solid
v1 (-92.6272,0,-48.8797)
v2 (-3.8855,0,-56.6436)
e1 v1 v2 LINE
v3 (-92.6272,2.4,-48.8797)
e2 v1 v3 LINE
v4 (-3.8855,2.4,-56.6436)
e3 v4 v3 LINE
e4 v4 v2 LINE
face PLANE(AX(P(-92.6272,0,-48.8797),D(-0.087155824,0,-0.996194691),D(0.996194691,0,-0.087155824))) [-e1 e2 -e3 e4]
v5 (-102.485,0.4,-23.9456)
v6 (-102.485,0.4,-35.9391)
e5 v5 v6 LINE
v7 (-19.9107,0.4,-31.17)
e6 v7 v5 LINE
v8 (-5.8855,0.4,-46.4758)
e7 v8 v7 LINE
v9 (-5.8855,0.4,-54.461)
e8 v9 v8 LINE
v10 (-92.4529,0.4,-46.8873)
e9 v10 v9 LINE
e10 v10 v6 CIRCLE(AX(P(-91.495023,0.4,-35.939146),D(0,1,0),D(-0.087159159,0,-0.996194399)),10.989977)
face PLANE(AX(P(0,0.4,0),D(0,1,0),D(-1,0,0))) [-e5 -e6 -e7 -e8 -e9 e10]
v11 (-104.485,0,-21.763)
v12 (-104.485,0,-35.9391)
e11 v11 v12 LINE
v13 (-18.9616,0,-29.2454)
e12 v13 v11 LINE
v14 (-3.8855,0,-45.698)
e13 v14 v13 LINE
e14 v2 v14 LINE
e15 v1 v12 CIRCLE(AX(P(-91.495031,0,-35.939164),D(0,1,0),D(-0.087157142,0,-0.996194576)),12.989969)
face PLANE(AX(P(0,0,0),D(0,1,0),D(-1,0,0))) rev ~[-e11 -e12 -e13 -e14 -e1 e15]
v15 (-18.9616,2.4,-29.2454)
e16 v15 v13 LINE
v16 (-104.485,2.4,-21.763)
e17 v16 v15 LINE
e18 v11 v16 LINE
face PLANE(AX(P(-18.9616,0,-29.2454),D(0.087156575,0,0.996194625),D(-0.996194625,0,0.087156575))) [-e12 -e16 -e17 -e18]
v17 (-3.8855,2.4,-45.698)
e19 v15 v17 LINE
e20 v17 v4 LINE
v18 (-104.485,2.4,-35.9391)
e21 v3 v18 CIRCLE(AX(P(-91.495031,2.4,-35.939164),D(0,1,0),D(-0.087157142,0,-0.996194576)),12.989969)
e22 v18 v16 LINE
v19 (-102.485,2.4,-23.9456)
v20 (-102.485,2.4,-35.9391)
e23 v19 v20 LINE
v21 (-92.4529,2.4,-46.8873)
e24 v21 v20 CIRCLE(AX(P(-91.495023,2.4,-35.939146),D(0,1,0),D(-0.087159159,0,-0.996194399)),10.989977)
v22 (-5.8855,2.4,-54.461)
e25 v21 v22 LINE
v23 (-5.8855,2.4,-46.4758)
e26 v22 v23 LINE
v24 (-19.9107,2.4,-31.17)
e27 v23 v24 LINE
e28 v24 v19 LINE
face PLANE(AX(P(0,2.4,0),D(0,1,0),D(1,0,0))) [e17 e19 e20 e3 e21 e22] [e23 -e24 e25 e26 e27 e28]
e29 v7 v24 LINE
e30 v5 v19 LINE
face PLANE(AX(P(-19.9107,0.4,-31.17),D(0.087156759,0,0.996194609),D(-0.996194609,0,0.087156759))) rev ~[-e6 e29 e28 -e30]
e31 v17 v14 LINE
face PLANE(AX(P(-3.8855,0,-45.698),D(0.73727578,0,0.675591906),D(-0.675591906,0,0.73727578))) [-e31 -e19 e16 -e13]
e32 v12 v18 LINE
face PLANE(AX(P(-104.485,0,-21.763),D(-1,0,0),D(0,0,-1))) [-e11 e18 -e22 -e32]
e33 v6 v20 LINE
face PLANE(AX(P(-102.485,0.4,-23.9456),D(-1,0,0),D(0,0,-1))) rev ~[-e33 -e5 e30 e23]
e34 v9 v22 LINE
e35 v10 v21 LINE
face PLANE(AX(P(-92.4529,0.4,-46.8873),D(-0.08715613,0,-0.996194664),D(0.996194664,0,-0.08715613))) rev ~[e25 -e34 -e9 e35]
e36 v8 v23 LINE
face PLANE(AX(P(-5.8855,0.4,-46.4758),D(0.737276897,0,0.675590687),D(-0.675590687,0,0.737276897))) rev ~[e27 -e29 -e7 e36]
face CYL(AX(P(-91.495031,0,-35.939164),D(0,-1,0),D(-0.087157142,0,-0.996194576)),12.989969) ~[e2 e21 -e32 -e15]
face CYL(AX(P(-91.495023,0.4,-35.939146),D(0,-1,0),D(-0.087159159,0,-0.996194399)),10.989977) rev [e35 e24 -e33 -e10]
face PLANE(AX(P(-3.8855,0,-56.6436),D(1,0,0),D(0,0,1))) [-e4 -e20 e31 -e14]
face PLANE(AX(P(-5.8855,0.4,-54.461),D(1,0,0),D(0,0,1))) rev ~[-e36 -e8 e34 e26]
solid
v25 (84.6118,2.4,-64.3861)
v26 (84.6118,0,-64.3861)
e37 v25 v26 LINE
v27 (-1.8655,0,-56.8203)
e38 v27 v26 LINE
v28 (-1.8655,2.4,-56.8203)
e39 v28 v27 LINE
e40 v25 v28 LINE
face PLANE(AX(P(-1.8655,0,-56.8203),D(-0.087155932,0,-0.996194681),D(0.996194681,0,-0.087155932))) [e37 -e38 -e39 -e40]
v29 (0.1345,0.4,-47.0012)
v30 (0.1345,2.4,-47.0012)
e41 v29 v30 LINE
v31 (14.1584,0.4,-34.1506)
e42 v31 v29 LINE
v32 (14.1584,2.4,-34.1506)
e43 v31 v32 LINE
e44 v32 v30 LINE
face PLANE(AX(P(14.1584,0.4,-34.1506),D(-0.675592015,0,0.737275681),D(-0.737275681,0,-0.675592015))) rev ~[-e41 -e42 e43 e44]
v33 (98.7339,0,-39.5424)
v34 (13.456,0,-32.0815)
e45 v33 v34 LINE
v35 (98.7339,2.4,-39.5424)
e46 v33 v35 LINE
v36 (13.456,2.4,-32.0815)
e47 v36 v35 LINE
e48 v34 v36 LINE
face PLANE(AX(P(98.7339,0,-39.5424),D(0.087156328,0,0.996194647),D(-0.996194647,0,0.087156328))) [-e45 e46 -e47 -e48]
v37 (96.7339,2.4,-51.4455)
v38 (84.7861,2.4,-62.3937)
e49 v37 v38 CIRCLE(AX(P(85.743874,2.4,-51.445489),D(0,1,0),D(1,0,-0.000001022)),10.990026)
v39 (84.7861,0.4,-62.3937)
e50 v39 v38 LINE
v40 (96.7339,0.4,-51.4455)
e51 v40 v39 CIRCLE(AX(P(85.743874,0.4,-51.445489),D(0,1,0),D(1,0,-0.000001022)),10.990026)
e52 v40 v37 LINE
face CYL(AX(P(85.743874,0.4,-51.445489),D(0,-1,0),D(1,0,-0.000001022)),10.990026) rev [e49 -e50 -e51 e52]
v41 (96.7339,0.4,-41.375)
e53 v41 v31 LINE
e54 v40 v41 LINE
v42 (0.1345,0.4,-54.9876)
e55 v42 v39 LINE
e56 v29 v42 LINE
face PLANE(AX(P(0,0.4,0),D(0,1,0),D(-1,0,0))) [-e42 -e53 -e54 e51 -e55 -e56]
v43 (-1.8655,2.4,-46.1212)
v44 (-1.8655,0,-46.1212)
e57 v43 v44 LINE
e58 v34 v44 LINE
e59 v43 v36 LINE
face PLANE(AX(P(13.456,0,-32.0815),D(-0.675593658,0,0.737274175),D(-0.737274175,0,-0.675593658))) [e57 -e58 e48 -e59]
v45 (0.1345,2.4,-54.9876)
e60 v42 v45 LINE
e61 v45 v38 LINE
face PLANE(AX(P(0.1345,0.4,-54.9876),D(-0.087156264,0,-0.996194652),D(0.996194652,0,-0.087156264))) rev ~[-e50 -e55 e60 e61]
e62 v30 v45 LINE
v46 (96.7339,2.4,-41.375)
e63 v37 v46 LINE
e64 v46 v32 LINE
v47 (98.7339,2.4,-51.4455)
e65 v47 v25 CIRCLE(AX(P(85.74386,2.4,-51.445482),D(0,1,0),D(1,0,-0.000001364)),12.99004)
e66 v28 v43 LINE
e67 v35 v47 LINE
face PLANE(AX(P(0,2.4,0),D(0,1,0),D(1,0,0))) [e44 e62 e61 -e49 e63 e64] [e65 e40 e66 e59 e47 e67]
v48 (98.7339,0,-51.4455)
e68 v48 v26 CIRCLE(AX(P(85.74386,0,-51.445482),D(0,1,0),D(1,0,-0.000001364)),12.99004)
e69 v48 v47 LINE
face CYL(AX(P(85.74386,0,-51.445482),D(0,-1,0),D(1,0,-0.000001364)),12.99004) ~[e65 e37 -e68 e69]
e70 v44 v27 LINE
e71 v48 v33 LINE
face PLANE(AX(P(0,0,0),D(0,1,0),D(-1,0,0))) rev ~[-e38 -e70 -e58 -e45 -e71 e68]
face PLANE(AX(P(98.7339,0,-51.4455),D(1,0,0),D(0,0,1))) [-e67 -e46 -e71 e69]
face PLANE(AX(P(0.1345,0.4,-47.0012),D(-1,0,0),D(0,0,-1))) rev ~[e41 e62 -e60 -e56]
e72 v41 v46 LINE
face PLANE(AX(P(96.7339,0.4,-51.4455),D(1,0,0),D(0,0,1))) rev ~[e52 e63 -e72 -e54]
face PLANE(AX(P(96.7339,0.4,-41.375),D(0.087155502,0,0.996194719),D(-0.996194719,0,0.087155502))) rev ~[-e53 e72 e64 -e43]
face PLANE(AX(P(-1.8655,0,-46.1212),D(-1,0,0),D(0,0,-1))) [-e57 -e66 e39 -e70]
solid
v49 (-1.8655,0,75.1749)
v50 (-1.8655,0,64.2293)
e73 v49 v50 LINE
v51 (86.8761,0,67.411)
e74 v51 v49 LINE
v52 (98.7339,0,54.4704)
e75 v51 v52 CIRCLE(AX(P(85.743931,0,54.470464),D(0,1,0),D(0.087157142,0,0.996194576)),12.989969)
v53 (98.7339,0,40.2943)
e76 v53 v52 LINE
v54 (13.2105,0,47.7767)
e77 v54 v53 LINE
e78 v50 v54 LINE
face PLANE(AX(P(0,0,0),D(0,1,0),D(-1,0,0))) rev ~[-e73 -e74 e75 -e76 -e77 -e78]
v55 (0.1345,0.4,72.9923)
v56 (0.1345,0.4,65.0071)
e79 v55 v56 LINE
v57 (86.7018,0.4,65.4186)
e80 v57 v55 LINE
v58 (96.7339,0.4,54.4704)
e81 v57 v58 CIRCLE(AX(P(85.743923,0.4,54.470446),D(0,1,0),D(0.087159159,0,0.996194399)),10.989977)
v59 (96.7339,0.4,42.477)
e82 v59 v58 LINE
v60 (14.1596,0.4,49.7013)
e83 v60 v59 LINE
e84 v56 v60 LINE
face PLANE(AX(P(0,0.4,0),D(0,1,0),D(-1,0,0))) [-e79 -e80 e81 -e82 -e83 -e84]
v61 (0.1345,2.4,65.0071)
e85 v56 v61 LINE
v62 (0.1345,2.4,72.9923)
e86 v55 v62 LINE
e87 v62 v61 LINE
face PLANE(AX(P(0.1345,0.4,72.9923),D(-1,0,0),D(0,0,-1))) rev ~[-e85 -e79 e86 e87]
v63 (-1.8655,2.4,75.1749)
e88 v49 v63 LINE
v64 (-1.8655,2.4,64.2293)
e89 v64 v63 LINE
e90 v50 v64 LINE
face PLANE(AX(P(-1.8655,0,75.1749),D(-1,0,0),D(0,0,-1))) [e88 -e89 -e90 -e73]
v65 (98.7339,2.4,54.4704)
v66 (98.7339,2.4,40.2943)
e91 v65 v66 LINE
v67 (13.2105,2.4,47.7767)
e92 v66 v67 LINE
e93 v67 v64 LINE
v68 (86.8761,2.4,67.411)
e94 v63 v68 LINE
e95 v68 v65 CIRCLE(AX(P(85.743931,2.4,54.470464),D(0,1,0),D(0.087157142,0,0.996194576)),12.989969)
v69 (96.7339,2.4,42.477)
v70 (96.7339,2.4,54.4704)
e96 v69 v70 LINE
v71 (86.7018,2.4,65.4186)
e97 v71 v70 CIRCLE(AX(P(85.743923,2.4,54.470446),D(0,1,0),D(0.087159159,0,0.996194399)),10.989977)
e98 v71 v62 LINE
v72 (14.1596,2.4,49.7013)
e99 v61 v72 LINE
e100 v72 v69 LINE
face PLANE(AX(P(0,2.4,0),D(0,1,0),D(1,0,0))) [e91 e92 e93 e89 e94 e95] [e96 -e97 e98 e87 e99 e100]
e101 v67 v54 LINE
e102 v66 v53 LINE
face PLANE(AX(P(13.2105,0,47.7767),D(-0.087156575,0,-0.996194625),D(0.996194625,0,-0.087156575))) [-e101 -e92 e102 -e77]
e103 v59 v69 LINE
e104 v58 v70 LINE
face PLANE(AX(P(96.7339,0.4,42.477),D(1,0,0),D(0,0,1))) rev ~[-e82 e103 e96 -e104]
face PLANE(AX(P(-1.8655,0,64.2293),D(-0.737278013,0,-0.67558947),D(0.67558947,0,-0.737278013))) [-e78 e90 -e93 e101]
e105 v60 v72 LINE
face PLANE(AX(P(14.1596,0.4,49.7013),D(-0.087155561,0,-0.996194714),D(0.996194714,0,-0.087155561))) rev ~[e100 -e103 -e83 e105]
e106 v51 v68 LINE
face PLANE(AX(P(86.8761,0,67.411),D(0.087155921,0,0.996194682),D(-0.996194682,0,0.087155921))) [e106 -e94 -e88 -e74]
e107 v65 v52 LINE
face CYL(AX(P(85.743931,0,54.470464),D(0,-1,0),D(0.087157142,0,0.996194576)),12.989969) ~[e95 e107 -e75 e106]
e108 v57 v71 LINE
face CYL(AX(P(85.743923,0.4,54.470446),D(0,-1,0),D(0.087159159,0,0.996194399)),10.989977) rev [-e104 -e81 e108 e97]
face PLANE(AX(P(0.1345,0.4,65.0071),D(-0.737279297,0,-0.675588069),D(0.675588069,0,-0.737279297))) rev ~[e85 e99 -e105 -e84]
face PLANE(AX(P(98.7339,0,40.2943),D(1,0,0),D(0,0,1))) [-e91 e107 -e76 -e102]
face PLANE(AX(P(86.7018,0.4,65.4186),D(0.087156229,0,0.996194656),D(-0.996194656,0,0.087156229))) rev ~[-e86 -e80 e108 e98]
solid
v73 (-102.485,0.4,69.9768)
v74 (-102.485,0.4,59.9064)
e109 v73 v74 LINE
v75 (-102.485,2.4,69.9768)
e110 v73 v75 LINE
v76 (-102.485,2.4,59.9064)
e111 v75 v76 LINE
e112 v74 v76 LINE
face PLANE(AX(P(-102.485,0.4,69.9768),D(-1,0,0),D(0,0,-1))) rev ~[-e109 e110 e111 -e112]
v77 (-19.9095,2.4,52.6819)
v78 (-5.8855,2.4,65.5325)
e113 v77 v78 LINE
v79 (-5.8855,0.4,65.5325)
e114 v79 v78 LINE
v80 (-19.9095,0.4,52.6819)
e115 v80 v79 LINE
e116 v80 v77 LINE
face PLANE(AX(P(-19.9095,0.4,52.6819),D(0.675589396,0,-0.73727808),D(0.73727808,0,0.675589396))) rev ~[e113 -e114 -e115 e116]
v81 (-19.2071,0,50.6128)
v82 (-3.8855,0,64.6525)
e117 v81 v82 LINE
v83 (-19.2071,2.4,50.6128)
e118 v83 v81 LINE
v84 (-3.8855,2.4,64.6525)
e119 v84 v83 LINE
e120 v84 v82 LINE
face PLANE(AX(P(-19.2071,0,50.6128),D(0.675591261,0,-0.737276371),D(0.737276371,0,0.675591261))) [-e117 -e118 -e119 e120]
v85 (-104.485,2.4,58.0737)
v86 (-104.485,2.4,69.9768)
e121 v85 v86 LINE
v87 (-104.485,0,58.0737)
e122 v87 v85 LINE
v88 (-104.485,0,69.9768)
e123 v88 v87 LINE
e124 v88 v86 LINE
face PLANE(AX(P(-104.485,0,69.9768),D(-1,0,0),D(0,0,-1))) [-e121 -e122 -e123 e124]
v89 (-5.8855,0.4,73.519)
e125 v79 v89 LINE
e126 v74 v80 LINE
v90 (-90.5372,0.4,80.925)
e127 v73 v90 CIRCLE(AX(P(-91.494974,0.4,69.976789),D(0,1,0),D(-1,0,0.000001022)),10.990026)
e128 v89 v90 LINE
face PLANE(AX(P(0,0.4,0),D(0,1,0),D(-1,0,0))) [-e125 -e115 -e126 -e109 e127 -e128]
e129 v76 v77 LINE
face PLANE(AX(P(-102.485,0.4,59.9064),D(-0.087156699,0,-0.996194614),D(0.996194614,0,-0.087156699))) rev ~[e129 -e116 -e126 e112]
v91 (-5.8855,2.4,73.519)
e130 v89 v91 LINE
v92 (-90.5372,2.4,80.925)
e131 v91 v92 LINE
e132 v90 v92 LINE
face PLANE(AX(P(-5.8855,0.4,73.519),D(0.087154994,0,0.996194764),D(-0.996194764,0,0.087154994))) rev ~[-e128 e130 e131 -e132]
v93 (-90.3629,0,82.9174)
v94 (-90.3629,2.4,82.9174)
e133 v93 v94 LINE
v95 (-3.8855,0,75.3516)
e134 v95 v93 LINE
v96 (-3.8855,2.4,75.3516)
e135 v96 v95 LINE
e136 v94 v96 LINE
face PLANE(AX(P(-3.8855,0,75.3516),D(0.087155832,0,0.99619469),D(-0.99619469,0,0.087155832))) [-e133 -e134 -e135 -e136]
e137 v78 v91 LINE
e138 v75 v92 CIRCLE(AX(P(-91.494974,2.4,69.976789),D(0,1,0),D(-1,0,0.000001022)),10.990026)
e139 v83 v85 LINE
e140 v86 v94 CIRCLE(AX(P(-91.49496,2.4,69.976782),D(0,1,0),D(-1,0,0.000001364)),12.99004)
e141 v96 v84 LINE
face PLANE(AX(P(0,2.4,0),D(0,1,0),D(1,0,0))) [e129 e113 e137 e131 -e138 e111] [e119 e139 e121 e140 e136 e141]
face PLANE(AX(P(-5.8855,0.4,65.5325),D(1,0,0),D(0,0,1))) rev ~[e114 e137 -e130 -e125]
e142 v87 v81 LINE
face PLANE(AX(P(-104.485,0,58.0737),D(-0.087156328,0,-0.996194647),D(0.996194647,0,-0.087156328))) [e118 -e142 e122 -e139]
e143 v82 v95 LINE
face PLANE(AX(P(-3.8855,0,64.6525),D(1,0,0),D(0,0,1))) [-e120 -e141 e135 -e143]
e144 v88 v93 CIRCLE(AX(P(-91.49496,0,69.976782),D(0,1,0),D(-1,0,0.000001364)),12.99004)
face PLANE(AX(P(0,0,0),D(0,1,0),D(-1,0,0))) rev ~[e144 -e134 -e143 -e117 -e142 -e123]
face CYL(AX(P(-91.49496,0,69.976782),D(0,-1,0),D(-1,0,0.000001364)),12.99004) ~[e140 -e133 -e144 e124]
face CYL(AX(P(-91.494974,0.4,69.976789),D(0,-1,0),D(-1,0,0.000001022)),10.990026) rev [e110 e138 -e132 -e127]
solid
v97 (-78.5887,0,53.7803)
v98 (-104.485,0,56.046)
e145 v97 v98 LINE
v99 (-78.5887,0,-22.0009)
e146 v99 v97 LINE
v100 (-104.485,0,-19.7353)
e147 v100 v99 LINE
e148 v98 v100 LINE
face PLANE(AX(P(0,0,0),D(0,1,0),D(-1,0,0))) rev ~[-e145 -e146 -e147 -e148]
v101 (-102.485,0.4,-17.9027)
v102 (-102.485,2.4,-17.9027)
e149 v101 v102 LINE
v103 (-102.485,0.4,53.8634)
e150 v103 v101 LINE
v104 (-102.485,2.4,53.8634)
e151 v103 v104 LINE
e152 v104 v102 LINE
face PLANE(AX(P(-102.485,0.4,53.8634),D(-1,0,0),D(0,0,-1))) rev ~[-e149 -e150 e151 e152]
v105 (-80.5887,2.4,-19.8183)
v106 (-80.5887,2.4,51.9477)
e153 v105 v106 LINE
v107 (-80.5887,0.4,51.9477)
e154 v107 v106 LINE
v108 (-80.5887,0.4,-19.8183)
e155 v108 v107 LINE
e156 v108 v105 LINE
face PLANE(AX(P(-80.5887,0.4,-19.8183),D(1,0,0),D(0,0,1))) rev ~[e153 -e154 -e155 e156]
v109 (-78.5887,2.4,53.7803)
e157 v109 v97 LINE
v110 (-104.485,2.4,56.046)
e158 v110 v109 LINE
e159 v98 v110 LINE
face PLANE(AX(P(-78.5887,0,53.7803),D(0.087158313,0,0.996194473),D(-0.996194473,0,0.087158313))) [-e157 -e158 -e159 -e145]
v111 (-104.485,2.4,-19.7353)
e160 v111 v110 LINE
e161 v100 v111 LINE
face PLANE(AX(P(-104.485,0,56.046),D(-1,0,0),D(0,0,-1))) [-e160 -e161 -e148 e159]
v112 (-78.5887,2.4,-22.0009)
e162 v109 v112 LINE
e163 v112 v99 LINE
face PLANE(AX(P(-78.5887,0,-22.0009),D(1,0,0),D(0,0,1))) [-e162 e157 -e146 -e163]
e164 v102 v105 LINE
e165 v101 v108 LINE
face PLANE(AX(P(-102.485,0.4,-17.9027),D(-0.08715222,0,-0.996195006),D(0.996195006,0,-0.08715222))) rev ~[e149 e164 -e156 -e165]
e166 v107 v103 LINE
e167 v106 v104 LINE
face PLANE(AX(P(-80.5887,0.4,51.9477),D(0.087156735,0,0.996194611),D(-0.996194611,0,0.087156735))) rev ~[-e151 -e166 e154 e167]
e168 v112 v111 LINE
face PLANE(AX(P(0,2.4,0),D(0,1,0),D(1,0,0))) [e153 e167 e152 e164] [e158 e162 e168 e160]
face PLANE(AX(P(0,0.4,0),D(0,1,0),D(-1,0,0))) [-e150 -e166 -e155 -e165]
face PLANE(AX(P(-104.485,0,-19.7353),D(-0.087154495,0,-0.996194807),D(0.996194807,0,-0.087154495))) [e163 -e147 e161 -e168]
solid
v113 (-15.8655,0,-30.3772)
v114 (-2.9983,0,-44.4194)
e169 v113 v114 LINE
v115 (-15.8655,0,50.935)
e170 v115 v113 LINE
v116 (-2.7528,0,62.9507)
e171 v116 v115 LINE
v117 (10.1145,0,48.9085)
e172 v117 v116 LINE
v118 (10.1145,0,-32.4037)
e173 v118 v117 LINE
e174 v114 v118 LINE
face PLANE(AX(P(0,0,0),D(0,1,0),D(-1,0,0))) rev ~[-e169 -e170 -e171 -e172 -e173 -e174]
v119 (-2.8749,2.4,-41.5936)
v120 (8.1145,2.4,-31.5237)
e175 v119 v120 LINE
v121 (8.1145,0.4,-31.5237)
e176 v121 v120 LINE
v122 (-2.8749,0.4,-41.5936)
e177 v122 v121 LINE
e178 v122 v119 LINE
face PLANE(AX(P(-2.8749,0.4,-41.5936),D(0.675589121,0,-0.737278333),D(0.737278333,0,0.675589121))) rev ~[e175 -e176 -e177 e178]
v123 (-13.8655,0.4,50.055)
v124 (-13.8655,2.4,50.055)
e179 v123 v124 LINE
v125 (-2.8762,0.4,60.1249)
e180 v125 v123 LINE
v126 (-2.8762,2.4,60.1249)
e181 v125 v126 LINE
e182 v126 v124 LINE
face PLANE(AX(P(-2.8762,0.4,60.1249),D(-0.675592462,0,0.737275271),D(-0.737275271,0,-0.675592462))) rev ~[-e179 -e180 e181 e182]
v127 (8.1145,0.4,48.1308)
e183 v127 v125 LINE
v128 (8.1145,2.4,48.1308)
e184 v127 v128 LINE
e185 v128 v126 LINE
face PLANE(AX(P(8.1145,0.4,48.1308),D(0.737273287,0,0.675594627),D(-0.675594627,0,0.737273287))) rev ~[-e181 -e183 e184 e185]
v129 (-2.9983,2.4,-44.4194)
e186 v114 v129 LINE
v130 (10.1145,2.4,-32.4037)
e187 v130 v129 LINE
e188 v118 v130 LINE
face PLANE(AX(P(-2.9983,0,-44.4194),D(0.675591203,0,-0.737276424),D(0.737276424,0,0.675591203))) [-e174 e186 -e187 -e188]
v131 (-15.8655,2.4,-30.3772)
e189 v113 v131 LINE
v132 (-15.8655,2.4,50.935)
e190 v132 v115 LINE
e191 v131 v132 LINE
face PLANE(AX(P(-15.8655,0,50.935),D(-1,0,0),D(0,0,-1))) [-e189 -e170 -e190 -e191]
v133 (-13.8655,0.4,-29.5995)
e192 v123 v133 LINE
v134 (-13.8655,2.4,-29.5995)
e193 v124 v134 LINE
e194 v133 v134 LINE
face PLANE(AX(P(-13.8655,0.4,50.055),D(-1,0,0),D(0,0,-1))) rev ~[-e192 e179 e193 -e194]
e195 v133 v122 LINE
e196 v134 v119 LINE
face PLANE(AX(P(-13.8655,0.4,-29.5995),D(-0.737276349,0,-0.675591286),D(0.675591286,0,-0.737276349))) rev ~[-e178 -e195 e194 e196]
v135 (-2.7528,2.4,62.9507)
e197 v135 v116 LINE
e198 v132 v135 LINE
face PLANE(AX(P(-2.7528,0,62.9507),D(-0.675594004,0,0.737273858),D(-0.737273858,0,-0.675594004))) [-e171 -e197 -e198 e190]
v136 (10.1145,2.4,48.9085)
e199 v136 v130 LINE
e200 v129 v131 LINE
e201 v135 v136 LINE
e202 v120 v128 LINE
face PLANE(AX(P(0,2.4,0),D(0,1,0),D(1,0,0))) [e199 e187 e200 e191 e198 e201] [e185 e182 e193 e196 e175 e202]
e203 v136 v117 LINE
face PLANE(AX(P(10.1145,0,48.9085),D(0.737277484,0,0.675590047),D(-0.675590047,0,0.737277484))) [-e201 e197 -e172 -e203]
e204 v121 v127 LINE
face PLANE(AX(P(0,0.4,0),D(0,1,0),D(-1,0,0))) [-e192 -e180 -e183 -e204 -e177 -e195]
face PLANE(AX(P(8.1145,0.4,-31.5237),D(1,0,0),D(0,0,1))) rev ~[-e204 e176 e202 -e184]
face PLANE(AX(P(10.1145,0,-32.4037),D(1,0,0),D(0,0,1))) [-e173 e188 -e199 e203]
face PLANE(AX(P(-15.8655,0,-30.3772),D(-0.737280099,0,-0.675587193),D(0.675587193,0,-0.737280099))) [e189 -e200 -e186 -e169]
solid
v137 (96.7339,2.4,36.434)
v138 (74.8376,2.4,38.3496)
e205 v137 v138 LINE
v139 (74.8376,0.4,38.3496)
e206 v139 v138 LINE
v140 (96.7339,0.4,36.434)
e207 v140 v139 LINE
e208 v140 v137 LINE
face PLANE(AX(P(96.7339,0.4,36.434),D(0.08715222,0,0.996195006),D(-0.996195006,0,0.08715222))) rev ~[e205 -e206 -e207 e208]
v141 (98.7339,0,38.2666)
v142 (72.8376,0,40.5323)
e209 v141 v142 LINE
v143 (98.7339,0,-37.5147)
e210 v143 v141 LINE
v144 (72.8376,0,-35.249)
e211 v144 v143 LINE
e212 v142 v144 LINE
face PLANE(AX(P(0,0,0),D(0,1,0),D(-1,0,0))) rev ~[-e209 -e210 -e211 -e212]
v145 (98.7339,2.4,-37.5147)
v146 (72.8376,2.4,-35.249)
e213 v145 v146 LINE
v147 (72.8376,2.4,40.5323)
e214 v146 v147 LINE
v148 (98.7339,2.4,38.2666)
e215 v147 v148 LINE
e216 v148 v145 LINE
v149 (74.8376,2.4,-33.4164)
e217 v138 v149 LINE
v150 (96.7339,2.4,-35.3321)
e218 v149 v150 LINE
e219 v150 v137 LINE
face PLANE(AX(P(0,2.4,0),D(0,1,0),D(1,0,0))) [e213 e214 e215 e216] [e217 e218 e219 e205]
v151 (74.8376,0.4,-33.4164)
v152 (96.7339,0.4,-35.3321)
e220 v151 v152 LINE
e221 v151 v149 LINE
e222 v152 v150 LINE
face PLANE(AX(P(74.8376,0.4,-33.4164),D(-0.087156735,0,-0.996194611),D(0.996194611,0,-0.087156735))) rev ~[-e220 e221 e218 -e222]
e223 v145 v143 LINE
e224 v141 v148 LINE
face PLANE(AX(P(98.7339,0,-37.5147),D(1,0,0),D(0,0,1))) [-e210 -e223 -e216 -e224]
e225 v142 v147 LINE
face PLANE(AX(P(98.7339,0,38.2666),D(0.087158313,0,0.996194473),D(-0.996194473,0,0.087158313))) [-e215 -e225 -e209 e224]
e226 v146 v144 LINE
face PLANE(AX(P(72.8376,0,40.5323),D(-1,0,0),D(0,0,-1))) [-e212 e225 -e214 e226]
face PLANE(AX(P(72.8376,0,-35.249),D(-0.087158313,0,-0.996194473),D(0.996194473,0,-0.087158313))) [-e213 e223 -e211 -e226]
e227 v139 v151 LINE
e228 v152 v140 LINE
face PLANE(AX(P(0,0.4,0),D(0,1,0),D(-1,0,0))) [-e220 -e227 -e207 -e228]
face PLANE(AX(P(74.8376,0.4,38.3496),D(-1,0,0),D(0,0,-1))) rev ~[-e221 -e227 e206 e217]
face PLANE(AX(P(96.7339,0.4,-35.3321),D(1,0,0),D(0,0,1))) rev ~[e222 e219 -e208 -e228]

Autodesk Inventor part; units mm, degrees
ref_plane "YZ Plane" through (0, 0, 0) normal (1, 0, 0) x (0, 1, 0)
ref_plane "XZ Plane" through (0, 0, 0) normal (0, 1, 0) x (-1, 0, 0)
ref_plane "XY Plane" through (0, 0, 0) normal (0, 0, 1) x (1, 0, 0)
sketch "Sketch1" plane through (0, 0, 0) normal (0, 1, 0) x (-1, 0, 0)
  line L0 (-12.1245, -29.9474) -> (-12.1245, 45.854) construction
  line L1 (-12.1245, 45.854) -> (-70.8276, 40.7181) construction
  line L2 (-70.8276, 40.7181) -> (-70.8276, -35.0832) construction
  line L3 (-70.8276, -35.0832) -> (-12.1245, -29.9474) construction
  circle A0 centre (-41.476, 5.3854) radius 9 construction
  circle A1 centre (-41.476, 5.3854) radius 9 construction
  line L4 (-12.1245, 45.854) -> (-12.1245, -29.9474) construction
  line L5 (-12.1245, -29.9474) -> (-70.8276, -35.0832) construction
  line L6 (-70.8276, -35.0832) -> (-70.8276, 40.7181) construction
  line L7 (-70.8276, 40.7181) -> (-12.1245, 45.854) construction
  circle A2 centre (47.2271, 13.1459) radius 9 construction
  line L8 (17.8755, 48.4787) -> (76.5787, 53.6145) construction
  line L9 (76.5787, 53.6145) -> (76.5787, -22.1868) construction
  line L10 (76.5787, -22.1868) -> (17.8755, -27.3227) construction
  line L11 (17.8755, -27.3227) -> (17.8755, 48.4787) construction
  line L12 (-116.1245, 90.6782) -> (121.8755, 90.6782) construction
  arc A3 (125.9548, 86.599) -> (121.8755, 90.6782) centre (121.8755, 86.599) ccw construction
  line L13 (125.9548, 86.599) -> (125.9548, -68.0677) construction
  arc A4 (121.8755, -72.1469) -> (125.9548, -68.0677) centre (121.8755, -68.0677) ccw construction
  line L14 (121.8755, -72.1469) -> (-116.1245, -72.1469) construction
  arc A5 (-120.2037, -68.0677) -> (-116.1245, -72.1469) centre (-116.1245, -68.0677) ccw construction
  line L15 (-120.2037, -68.0677) -> (-120.2037, 86.599) construction
  arc A6 (-116.1245, 90.6782) -> (-120.2037, 86.599) centre (-116.1245, 86.599) ccw construction
  arc A7 (12.5619, -31.0369) -> (13.8755, -27.659) centre (8.8755, -27.659) ccw construction
  line L16 (13.8755, -27.659) -> (13.8755, 47.8594) construction
  arc A8 (13.8755, 47.8594) -> (12.2535, 51.5458) centre (8.8755, 47.8594) ccw construction
  line L17 (12.2535, 51.5458) -> (6.5619, 56.7611) construction
  arc A9 (6.5619, 56.7611) -> (-0.5024, 56.4527) centre (3.184, 53.0747) ccw construction
  line L18 (-0.5024, 56.4527) -> (-6.8108, 49.5682) construction
  arc A10 (-6.8108, 49.5682) -> (-8.1245, 46.1903) centre (-3.1245, 46.1903) ccw construction
  line L19 (-8.1245, 46.1903) -> (-8.1245, -29.3281) construction
  arc A11 (-8.1245, -29.3281) -> (-6.5024, -33.0144) centre (-3.1245, -29.3281) ccw construction
  line L20 (-6.5024, -33.0144) -> (-0.8108, -38.2298) construction
  arc A12 (-0.8108, -38.2298) -> (6.2535, -37.9214) centre (2.5671, -34.5434) ccw construction
  line L21 (6.2535, -37.9214) -> (12.5619, -31.0369) construction
  arc A13 (5.8755, 67.7282) -> (7.4976, 64.0418) centre (10.8755, 67.7282) ccw construction
  line L22 (7.4976, 64.0418) -> (18.2839, 54.1579) construction
  arc A14 (18.2839, 54.1579) -> (22.0977, 52.8633) centre (21.6619, 57.8443) ccw construction
  line L23 (22.0977, 52.8633) -> (97.9308, 59.4979) construction
  arc A15 (97.9308, 59.4979) -> (102.495, 64.4788) centre (97.495, 64.4788) ccw construction
  line L24 (102.495, 64.4788) -> (102.495, 69.9768) construction
  arc A16 (102.495, 69.9768) -> (90.5363, 80.935) centre (91.495, 69.9768) ccw construction
  line L25 (90.5363, 80.935) -> (10.4398, 73.9274) construction
  arc A17 (10.4398, 73.9274) -> (5.8755, 68.9465) centre (10.8755, 68.9465) ccw construction
  line L26 (5.8755, 68.9465) -> (5.8755, 67.7282) construction
  arc A18 (85.143, 52.3562) -> (80.5787, 47.3752) centre (85.5787, 47.3752) ccw construction
  line L27 (80.5787, 47.3752) -> (80.5787, -14.3727) construction
  arc A19 (80.5787, -14.3727) -> (86.0145, -19.3537) centre (85.5787, -14.3727) ccw construction
  line L28 (86.0145, -19.3537) -> (97.9308, -18.3111) construction
  arc A20 (97.9308, -18.3111) -> (102.495, -13.3302) centre (97.495, -13.3302) ccw construction
  line L29 (102.495, -13.3302) -> (102.495, 48.4177) construction
  arc A21 (102.495, 48.4177) -> (97.0592, 53.3987) centre (97.495, 48.4177) ccw construction
  line L30 (97.0592, 53.3987) -> (85.143, 52.3562) construction
  arc A22 (21.843, -30.9909) -> (18.5924, -32.5939) centre (22.2788, -35.9718) ccw construction
  line L31 (18.5924, -32.5939) -> (7.1892, -45.0383) construction
  arc A23 (7.1892, -45.0383) -> (5.8755, -48.4163) centre (10.8755, -48.4163) ccw construction
  line L32 (5.8755, -48.4163) -> (5.8755, -49.0153) construction
  arc A24 (5.8755, -49.0153) -> (11.3113, -53.9963) centre (10.8755, -49.0153) ccw construction
  line L33 (11.3113, -53.9963) -> (92.4537, -46.8973) construction
  arc A25 (92.4537, -46.8973) -> (102.495, -35.9391) centre (91.495, -35.9391) ccw construction
  line L34 (102.495, -35.9391) -> (102.495, -29.3913) construction
  arc A26 (102.495, -29.3913) -> (97.0592, -24.4103) centre (97.495, -29.3913) ccw construction
  line L35 (97.0592, -24.4103) -> (21.843, -30.9909) construction
  arc A27 (-4.6887, -55.3961) -> (-0.1245, -50.4152) centre (-5.1245, -50.4152) ccw construction
  line L36 (-0.1245, -50.4152) -> (-0.1245, -49.1969) construction
  arc A28 (-0.1245, -49.1969) -> (-1.7465, -45.5105) centre (-5.1245, -49.1969) ccw construction
  line L37 (-1.7465, -45.5105) -> (-12.5328, -35.6266) construction
  arc A29 (-12.5328, -35.6266) -> (-16.3466, -34.332) centre (-15.9108, -39.313) ccw construction
  line L38 (-16.3466, -34.332) -> (-92.1797, -40.9666) construction
  arc A30 (-92.1797, -40.9666) -> (-96.7439, -45.9475) centre (-91.7439, -45.9475) ccw construction
  line L39 (-96.7439, -45.9475) -> (-96.7439, -51.4455) construction
  arc A31 (-96.7439, -51.4455) -> (-84.7852, -62.4037) centre (-85.7439, -51.4455) ccw construction
  line L40 (-84.7852, -62.4037) -> (-4.6887, -55.3961) construction
  arc A32 (-79.3919, -33.8249) -> (-74.8276, -28.8439) centre (-79.8276, -28.8439) ccw construction
  line L41 (-74.8276, -28.8439) -> (-74.8276, 32.904) construction
  arc A33 (-74.8276, 32.904) -> (-80.2634, 37.885) centre (-79.8276, 32.904) ccw construction
  line L42 (-80.2634, 37.885) -> (-92.1797, 36.8424) construction
  arc A34 (-92.1797, 36.8424) -> (-96.7439, 31.8615) centre (-91.7439, 31.8615) ccw construction
  line L43 (-96.7439, 31.8615) -> (-96.7439, -29.8864) construction
  arc A35 (-96.7439, -29.8864) -> (-91.3081, -34.8674) centre (-91.7439, -29.8864) ccw construction
  line L44 (-91.3081, -34.8674) -> (-79.3919, -33.8249) construction
  arc A36 (-16.0919, 49.5222) -> (-12.8413, 51.1252) centre (-16.5277, 54.5032) ccw construction
  line L45 (-12.8413, 51.1252) -> (-1.4381, 63.5696) construction
  arc A37 (-1.4381, 63.5696) -> (-0.1245, 66.9476) centre (-5.1245, 66.9476) ccw construction
  line L46 (-0.1245, 66.9476) -> (-0.1245, 67.5466) construction
  arc A38 (-0.1245, 67.5466) -> (-5.5602, 72.5276) centre (-5.1245, 67.5466) ccw construction
  line L47 (-5.5602, 72.5276) -> (-86.7026, 65.4286) construction
  arc A39 (-86.7026, 65.4286) -> (-96.7439, 54.4704) centre (-85.7439, 54.4704) ccw construction
  line L48 (-96.7439, 54.4704) -> (-96.7439, 47.9226) construction
  arc A40 (-96.7439, 47.9226) -> (-91.3081, 42.9416) centre (-91.7439, 47.9226) ccw construction
  line L49 (-91.3081, 42.9416) -> (-16.0919, 49.5222) construction
  line L50 (19.2036, 50.6025) -> (104.495, 58.0645) construction
  line L51 (104.495, 58.0645) -> (104.495, 69.9768) construction
  arc A41 (104.495, 69.9768) -> (90.362, 82.9274) centre (91.495, 69.9768) ccw construction
  line L52 (90.362, 82.9274) -> (3.8755, 75.3608) construction
  line L53 (3.8755, 75.3608) -> (3.8755, 64.6481) construction
  line L54 (3.8755, 64.6481) -> (19.2036, 50.6025) construction
  line L55 (104.495, 56.0569) -> (78.5787, 53.7895) construction
  line L56 (78.5787, 53.7895) -> (78.5787, -22.0119) construction
  line L57 (78.5787, -22.0119) -> (104.495, -19.7445) construction
  line L58 (104.495, -19.7445) -> (104.495, 56.0569) construction
  line L59 (15.8755, -30.3811) -> (15.8755, 50.9394) construction
  line L60 (15.8755, 50.9394) -> (2.7522, 62.9648) construction
  line L61 (2.7522, 62.9648) -> (-10.1245, 48.9124) construction
  line L62 (-10.1245, 48.9124) -> (-10.1245, -32.4081) construction
  line L63 (-10.1245, -32.4081) -> (2.9989, -44.4335) construction
  line L64 (2.9989, -44.4335) -> (15.8755, -30.3811) construction
  line L65 (-13.2058, 47.767) -> (1.8755, 64.2254) construction
  line L66 (1.8755, 64.2254) -> (1.8755, 75.1858) construction
  line L67 (1.8755, 75.1858) -> (-86.8769, 67.421) construction
  arc A42 (-86.8769, 67.421) -> (-98.7439, 54.4704) centre (-85.7439, 54.4704) ccw construction
  line L68 (-98.7439, 54.4704) -> (-98.7439, 40.2834) construction
  line L69 (-98.7439, 40.2834) -> (-13.2058, 47.767) construction
  line L70 (1.8755, -46.1168) -> (-13.4525, -32.0712) construction
  line L71 (-13.4525, -32.0712) -> (-98.7439, -39.5332) construction
  line L72 (-98.7439, -39.5332) -> (-98.7439, -51.4455) construction
  arc A43 (-98.7439, -51.4455) -> (-84.6109, -64.3961) centre (-85.7439, -51.4455) ccw construction
  line L73 (-84.6109, -64.3961) -> (1.8755, -56.8295) construction
  line L74 (1.8755, -56.8295) -> (1.8755, -46.1168) construction
  line L75 (18.9569, -29.2357) -> (3.8755, -45.6941) construction
  line L76 (3.8755, -45.6941) -> (3.8755, -56.6545) construction
  line L77 (3.8755, -56.6545) -> (92.628, -48.8897) construction
  arc A44 (92.628, -48.8897) -> (104.495, -35.9391) centre (91.495, -35.9391) ccw construction
  line L78 (104.495, -35.9391) -> (104.495, -21.7521) construction
  line L79 (104.495, -21.7521) -> (18.9569, -29.2357) construction
  line L80 (-72.8276, -35.2582) -> (-72.8276, 40.5432) construction
  line L81 (-72.8276, 40.5432) -> (-98.7439, 38.2758) construction
  line L82 (-98.7439, 38.2758) -> (-98.7439, -37.5256) construction
  line L83 (-98.7439, -37.5256) -> (-72.8276, -35.2582) construction
  arc A45 (-87.0513, 69.4134) -> (-100.7439, 54.4704) centre (-85.7439, 54.4704) ccw construction
  line L84 (-87.0513, 69.4134) -> (90.1877, 84.9198) construction
  arc A46 (106.495, 69.9768) -> (90.1877, 84.9198) centre (91.495, 69.9768) ccw construction
  line L85 (106.495, 69.9768) -> (106.495, -35.9391) construction
  arc A47 (92.8024, -50.882) -> (106.495, -35.9391) centre (91.495, -35.9391) ccw construction
  line L86 (92.8024, -50.882) -> (-84.4366, -66.3884) construction
  arc A48 (-100.7439, -51.4455) -> (-84.4366, -66.3884) centre (-85.7439, -51.4455) ccw construction
  line L87 (-100.7439, -51.4455) -> (-100.7439, 54.4704) construction
  arc A49 (115.8755, 86.599) -> (121.8755, 80.599) centre (121.8755, 86.599) ccw construction
  line L88 (121.8755, 80.599) -> (121.8755, -62.0677) construction
  arc A50 (121.8755, -62.0677) -> (115.8755, -68.0677) centre (121.8755, -68.0677) ccw construction
  line L89 (115.8755, -68.0677) -> (-110.1245, -68.0677) construction
  arc A51 (-110.1245, -68.0677) -> (-116.1245, -62.0677) centre (-116.1245, -68.0677) ccw construction
  line L90 (-116.1245, -62.0677) -> (-116.1245, 80.599) construction
  arc A52 (-116.1245, 80.599) -> (-110.1245, 86.599) centre (-116.1245, 86.599) ccw construction
  line L91 (-110.1245, 86.599) -> (115.8755, 86.599) construction
  line L92 (104.485, -19.7353) -> (78.5887, -22.0009)
  line L93 (78.5887, -22.0009) -> (78.5887, 53.7803)
  line L94 (78.5887, 53.7803) -> (104.485, 56.046)
  line L95 (104.485, 56.046) -> (104.485, -19.7353)
  arc A53 (92.6272, -48.8797) -> (104.485, -35.9391) centre (91.495, -35.9391) ccw
  line L96 (92.6272, -48.8797) -> (3.8855, -56.6436)
  line L97 (3.8855, -56.6436) -> (3.8855, -45.698)
  line L98 (3.8855, -45.698) -> (18.9616, -29.2454)
  line L99 (18.9616, -29.2454) -> (104.485, -21.763)
  line L100 (104.485, -21.763) -> (104.485, -35.9391)
  line L101 (-13.456, -32.0815) -> (1.8655, -46.1212)
  line L102 (1.8655, -46.1212) -> (1.8655, -56.8203)
  line L103 (1.8655, -56.8203) -> (-84.6118, -64.3861)
  arc A54 (-98.7339, -51.4455) -> (-84.6118, -64.3861) centre (-85.7439, -51.4455) ccw
  line L104 (-98.7339, -51.4455) -> (-98.7339, -39.5424)
  line L105 (-98.7339, -39.5424) -> (-13.456, -32.0815)
  line L106 (-10.1145, -32.4037) -> (-10.1145, 48.9085)
  line L107 (-10.1145, 48.9085) -> (2.7528, 62.9507)
  line L108 (2.7528, 62.9507) -> (15.8655, 50.935)
  line L109 (15.8655, 50.935) -> (15.8655, -30.3772)
  line L110 (15.8655, -30.3772) -> (2.9983, -44.4194)
  line L111 (2.9983, -44.4194) -> (-10.1145, -32.4037)
  line L112 (104.485, 58.0737) -> (19.2071, 50.6128)
  line L113 (19.2071, 50.6128) -> (3.8855, 64.6525)
  line L114 (3.8855, 64.6525) -> (3.8855, 75.3516)
  line L115 (3.8855, 75.3516) -> (90.3629, 82.9174)
  arc A55 (104.485, 69.9768) -> (90.3629, 82.9174) centre (91.495, 69.9768) ccw
  line L116 (104.485, 69.9768) -> (104.485, 58.0737)
  line L117 (1.8655, 64.2293) -> (-13.2105, 47.7767)
  line L118 (-13.2105, 47.7767) -> (-98.7339, 40.2943)
  line L119 (-98.7339, 40.2943) -> (-98.7339, 54.4704)
  arc A56 (-86.8761, 67.411) -> (-98.7339, 54.4704) centre (-85.7439, 54.4704) ccw
  line L120 (-86.8761, 67.411) -> (1.8655, 75.1749)
  line L121 (1.8655, 75.1749) -> (1.8655, 64.2293)
  line L122 (-72.8376, 40.5323) -> (-72.8376, -35.249)
  line L123 (-72.8376, -35.249) -> (-98.7339, -37.5147)
  line L124 (-98.7339, -37.5147) -> (-98.7339, 38.2666)
  line L125 (-98.7339, 38.2666) -> (-72.8376, 40.5323)
  point P0 (2.8755, 9.2657)
  dimension "d31" = 0.01
  dimension "d32" = 0.01
  dimension "d33" = 0.01
  dimension "d34" = 0.01
  dimension "d35" = 0.01
  dimension "d36" = 0.01
  dimension "d37" = 0.01
extrude "Extrusion1" add sketch "Sketch1" along normal blind 0.4
sketch "Sketch9" plane through (0, 0.4, 0) normal (0, 1, 0) x (1, 0, 0)
  line L0 (-90.3629, -82.9174) -> (-3.8855, -75.3516) projected
  line L1 (-3.8855, -75.3516) -> (-3.8855, -64.6525) projected
  line L2 (-3.8855, -64.6525) -> (-19.2071, -50.6128) projected
  line L3 (-19.2071, -50.6128) -> (-104.485, -58.0737) projected
  line L4 (-104.485, -58.0737) -> (-104.485, -69.9768) projected
  arc A0 (-104.485, -69.9768) -> (-90.3629, -82.9174) centre (-91.495, -69.9768) ccw projected
  line L5 (-104.485, -56.046) -> (-78.5887, -53.7803) projected
  line L6 (-78.5887, -53.7803) -> (-78.5887, 22.0009) projected
  line L7 (-78.5887, 22.0009) -> (-104.485, 19.7353) projected
  line L8 (-104.485, 19.7353) -> (-104.485, -56.046) projected
  arc A1 (-92.6272, 48.8797) -> (-104.485, 35.9391) centre (-91.495, 35.9391) ccw projected
  line L9 (-104.485, 35.9391) -> (-104.485, 21.763) projected
  line L10 (-104.485, 21.763) -> (-18.9616, 29.2454) projected
  line L11 (-18.9616, 29.2454) -> (-3.8855, 45.698) projected
  line L12 (-3.8855, 45.698) -> (-3.8855, 56.6436) projected
  line L13 (-3.8855, 56.6436) -> (-92.6272, 48.8797) projected
  line L14 (-2.9983, 44.4194) -> (-15.8655, 30.3772) projected
  line L15 (-15.8655, 30.3772) -> (-15.8655, -50.935) projected
  line L16 (-15.8655, -50.935) -> (-2.7528, -62.9507) projected
  line L17 (-2.7528, -62.9507) -> (10.1145, -48.9085) projected
  line L18 (10.1145, -48.9085) -> (10.1145, 32.4037) projected
  line L19 (10.1145, 32.4037) -> (-2.9983, 44.4194) projected
  line L20 (84.6118, 64.3861) -> (-1.8655, 56.8203) projected
  line L21 (-1.8655, 56.8203) -> (-1.8655, 46.1212) projected
  line L22 (-1.8655, 46.1212) -> (13.456, 32.0815) projected
  line L23 (13.456, 32.0815) -> (98.7339, 39.5424) projected
  line L24 (98.7339, 39.5424) -> (98.7339, 51.4455) projected
  arc A2 (98.7339, 51.4455) -> (84.6118, 64.3861) centre (85.7439, 51.4455) ccw projected
  line L25 (98.7339, -38.2666) -> (98.7339, 37.5147) projected
  line L26 (98.7339, 37.5147) -> (72.8376, 35.249) projected
  line L27 (72.8376, 35.249) -> (72.8376, -40.5323) projected
  line L28 (72.8376, -40.5323) -> (98.7339, -38.2666) projected
  line L29 (98.7339, -54.4704) -> (98.7339, -40.2943) projected
  line L30 (98.7339, -40.2943) -> (13.2105, -47.7767) projected
  line L31 (13.2105, -47.7767) -> (-1.8655, -64.2293) projected
  line L32 (-1.8655, -64.2293) -> (-1.8655, -75.1749) projected
  line L33 (-1.8655, -75.1749) -> (86.8761, -67.411) projected
  arc A3 (86.8761, -67.411) -> (98.7339, -54.4704) centre (85.7439, -54.4704) ccw projected
  line L34 (-102.485, -59.9064) -> (-19.9095, -52.6819)
  line L35 (-19.9095, -52.6819) -> (-5.8855, -65.5325)
  line L36 (-5.8855, -65.5325) -> (-5.8855, -73.519)
  line L37 (-5.8855, -73.519) -> (-90.5372, -80.925)
  arc A4 (-102.485, -69.9768) -> (-90.5372, -80.925) centre (-91.495, -69.9768) ccw
  line L38 (-102.485, -69.9768) -> (-102.485, -59.9064)
  line L39 (-80.5887, 19.8183) -> (-80.5887, -51.9477)
  line L40 (-80.5887, -51.9477) -> (-102.485, -53.8634)
  line L41 (-102.485, -53.8634) -> (-102.485, 17.9027)
  line L42 (-102.485, 17.9027) -> (-80.5887, 19.8183)
  line L43 (-19.9107, 31.17) -> (-102.485, 23.9456)
  line L44 (-102.485, 23.9456) -> (-102.485, 35.9391)
  arc A5 (-92.4529, 46.8873) -> (-102.485, 35.9391) centre (-91.495, 35.9391) ccw
  line L45 (-92.4529, 46.8873) -> (-5.8855, 54.461)
  line L46 (-5.8855, 54.461) -> (-5.8855, 46.4758)
  line L47 (-5.8855, 46.4758) -> (-19.9107, 31.17)
  line L48 (-13.8655, -50.055) -> (-13.8655, 29.5995)
  line L49 (-13.8655, 29.5995) -> (-2.8749, 41.5936)
  line L50 (-2.8749, 41.5936) -> (8.1145, 31.5237)
  line L51 (8.1145, 31.5237) -> (8.1145, -48.1308)
  line L52 (8.1145, -48.1308) -> (-2.8762, -60.1249)
  line L53 (-2.8762, -60.1249) -> (-13.8655, -50.055)
  line L54 (96.7339, 41.375) -> (14.1584, 34.1506)
  line L55 (14.1584, 34.1506) -> (0.1345, 47.0012)
  line L56 (0.1345, 47.0012) -> (0.1345, 54.9876)
  line L57 (0.1345, 54.9876) -> (84.7861, 62.3937)
  arc A6 (96.7339, 51.4455) -> (84.7861, 62.3937) centre (85.7439, 51.4455) ccw
  line L58 (96.7339, 51.4455) -> (96.7339, 41.375)
  line L59 (74.8376, -38.3496) -> (74.8376, 33.4164)
  line L60 (74.8376, 33.4164) -> (96.7339, 35.3321)
  line L61 (96.7339, 35.3321) -> (96.7339, -36.434)
  line L62 (96.7339, -36.434) -> (74.8376, -38.3496)
  line L63 (14.1596, -49.7013) -> (96.7339, -42.477)
  line L64 (96.7339, -42.477) -> (96.7339, -54.4704)
  arc A7 (86.7018, -65.4186) -> (96.7339, -54.4704) centre (85.7439, -54.4704) ccw
  line L65 (86.7018, -65.4186) -> (0.1345, -72.9923)
  line L66 (0.1345, -72.9923) -> (0.1345, -65.0071)
  line L67 (0.1345, -65.0071) -> (14.1596, -49.7013)
  point P0 (0, 0)
  dimension "d38" = 2
  dimension "d39" = 2
  dimension "d40" = 2
  dimension "d41" = 2
  dimension "d42" = 2
  dimension "d43" = 2
  dimension "d44" = 2
extrude "Extrusion9" add sketch "Sketch9" along normal blind 2
equation "\"d32\" = d31"
equation "\"d33\" = d31"
equation "\"d34\" = d31"
equation "\"d35\" = d31"
equation "\"d36\" = d31"
equation "\"d37\" = d31"
equation "\"d39\" = d38"
equation "\"d40\" = d38"
equation "\"d41\" = d38"
equation "\"d42\" = d38"
equation "\"d43\" = d38"
equation "\"d44\" = d38"
properties part number "SegmentPanels"
